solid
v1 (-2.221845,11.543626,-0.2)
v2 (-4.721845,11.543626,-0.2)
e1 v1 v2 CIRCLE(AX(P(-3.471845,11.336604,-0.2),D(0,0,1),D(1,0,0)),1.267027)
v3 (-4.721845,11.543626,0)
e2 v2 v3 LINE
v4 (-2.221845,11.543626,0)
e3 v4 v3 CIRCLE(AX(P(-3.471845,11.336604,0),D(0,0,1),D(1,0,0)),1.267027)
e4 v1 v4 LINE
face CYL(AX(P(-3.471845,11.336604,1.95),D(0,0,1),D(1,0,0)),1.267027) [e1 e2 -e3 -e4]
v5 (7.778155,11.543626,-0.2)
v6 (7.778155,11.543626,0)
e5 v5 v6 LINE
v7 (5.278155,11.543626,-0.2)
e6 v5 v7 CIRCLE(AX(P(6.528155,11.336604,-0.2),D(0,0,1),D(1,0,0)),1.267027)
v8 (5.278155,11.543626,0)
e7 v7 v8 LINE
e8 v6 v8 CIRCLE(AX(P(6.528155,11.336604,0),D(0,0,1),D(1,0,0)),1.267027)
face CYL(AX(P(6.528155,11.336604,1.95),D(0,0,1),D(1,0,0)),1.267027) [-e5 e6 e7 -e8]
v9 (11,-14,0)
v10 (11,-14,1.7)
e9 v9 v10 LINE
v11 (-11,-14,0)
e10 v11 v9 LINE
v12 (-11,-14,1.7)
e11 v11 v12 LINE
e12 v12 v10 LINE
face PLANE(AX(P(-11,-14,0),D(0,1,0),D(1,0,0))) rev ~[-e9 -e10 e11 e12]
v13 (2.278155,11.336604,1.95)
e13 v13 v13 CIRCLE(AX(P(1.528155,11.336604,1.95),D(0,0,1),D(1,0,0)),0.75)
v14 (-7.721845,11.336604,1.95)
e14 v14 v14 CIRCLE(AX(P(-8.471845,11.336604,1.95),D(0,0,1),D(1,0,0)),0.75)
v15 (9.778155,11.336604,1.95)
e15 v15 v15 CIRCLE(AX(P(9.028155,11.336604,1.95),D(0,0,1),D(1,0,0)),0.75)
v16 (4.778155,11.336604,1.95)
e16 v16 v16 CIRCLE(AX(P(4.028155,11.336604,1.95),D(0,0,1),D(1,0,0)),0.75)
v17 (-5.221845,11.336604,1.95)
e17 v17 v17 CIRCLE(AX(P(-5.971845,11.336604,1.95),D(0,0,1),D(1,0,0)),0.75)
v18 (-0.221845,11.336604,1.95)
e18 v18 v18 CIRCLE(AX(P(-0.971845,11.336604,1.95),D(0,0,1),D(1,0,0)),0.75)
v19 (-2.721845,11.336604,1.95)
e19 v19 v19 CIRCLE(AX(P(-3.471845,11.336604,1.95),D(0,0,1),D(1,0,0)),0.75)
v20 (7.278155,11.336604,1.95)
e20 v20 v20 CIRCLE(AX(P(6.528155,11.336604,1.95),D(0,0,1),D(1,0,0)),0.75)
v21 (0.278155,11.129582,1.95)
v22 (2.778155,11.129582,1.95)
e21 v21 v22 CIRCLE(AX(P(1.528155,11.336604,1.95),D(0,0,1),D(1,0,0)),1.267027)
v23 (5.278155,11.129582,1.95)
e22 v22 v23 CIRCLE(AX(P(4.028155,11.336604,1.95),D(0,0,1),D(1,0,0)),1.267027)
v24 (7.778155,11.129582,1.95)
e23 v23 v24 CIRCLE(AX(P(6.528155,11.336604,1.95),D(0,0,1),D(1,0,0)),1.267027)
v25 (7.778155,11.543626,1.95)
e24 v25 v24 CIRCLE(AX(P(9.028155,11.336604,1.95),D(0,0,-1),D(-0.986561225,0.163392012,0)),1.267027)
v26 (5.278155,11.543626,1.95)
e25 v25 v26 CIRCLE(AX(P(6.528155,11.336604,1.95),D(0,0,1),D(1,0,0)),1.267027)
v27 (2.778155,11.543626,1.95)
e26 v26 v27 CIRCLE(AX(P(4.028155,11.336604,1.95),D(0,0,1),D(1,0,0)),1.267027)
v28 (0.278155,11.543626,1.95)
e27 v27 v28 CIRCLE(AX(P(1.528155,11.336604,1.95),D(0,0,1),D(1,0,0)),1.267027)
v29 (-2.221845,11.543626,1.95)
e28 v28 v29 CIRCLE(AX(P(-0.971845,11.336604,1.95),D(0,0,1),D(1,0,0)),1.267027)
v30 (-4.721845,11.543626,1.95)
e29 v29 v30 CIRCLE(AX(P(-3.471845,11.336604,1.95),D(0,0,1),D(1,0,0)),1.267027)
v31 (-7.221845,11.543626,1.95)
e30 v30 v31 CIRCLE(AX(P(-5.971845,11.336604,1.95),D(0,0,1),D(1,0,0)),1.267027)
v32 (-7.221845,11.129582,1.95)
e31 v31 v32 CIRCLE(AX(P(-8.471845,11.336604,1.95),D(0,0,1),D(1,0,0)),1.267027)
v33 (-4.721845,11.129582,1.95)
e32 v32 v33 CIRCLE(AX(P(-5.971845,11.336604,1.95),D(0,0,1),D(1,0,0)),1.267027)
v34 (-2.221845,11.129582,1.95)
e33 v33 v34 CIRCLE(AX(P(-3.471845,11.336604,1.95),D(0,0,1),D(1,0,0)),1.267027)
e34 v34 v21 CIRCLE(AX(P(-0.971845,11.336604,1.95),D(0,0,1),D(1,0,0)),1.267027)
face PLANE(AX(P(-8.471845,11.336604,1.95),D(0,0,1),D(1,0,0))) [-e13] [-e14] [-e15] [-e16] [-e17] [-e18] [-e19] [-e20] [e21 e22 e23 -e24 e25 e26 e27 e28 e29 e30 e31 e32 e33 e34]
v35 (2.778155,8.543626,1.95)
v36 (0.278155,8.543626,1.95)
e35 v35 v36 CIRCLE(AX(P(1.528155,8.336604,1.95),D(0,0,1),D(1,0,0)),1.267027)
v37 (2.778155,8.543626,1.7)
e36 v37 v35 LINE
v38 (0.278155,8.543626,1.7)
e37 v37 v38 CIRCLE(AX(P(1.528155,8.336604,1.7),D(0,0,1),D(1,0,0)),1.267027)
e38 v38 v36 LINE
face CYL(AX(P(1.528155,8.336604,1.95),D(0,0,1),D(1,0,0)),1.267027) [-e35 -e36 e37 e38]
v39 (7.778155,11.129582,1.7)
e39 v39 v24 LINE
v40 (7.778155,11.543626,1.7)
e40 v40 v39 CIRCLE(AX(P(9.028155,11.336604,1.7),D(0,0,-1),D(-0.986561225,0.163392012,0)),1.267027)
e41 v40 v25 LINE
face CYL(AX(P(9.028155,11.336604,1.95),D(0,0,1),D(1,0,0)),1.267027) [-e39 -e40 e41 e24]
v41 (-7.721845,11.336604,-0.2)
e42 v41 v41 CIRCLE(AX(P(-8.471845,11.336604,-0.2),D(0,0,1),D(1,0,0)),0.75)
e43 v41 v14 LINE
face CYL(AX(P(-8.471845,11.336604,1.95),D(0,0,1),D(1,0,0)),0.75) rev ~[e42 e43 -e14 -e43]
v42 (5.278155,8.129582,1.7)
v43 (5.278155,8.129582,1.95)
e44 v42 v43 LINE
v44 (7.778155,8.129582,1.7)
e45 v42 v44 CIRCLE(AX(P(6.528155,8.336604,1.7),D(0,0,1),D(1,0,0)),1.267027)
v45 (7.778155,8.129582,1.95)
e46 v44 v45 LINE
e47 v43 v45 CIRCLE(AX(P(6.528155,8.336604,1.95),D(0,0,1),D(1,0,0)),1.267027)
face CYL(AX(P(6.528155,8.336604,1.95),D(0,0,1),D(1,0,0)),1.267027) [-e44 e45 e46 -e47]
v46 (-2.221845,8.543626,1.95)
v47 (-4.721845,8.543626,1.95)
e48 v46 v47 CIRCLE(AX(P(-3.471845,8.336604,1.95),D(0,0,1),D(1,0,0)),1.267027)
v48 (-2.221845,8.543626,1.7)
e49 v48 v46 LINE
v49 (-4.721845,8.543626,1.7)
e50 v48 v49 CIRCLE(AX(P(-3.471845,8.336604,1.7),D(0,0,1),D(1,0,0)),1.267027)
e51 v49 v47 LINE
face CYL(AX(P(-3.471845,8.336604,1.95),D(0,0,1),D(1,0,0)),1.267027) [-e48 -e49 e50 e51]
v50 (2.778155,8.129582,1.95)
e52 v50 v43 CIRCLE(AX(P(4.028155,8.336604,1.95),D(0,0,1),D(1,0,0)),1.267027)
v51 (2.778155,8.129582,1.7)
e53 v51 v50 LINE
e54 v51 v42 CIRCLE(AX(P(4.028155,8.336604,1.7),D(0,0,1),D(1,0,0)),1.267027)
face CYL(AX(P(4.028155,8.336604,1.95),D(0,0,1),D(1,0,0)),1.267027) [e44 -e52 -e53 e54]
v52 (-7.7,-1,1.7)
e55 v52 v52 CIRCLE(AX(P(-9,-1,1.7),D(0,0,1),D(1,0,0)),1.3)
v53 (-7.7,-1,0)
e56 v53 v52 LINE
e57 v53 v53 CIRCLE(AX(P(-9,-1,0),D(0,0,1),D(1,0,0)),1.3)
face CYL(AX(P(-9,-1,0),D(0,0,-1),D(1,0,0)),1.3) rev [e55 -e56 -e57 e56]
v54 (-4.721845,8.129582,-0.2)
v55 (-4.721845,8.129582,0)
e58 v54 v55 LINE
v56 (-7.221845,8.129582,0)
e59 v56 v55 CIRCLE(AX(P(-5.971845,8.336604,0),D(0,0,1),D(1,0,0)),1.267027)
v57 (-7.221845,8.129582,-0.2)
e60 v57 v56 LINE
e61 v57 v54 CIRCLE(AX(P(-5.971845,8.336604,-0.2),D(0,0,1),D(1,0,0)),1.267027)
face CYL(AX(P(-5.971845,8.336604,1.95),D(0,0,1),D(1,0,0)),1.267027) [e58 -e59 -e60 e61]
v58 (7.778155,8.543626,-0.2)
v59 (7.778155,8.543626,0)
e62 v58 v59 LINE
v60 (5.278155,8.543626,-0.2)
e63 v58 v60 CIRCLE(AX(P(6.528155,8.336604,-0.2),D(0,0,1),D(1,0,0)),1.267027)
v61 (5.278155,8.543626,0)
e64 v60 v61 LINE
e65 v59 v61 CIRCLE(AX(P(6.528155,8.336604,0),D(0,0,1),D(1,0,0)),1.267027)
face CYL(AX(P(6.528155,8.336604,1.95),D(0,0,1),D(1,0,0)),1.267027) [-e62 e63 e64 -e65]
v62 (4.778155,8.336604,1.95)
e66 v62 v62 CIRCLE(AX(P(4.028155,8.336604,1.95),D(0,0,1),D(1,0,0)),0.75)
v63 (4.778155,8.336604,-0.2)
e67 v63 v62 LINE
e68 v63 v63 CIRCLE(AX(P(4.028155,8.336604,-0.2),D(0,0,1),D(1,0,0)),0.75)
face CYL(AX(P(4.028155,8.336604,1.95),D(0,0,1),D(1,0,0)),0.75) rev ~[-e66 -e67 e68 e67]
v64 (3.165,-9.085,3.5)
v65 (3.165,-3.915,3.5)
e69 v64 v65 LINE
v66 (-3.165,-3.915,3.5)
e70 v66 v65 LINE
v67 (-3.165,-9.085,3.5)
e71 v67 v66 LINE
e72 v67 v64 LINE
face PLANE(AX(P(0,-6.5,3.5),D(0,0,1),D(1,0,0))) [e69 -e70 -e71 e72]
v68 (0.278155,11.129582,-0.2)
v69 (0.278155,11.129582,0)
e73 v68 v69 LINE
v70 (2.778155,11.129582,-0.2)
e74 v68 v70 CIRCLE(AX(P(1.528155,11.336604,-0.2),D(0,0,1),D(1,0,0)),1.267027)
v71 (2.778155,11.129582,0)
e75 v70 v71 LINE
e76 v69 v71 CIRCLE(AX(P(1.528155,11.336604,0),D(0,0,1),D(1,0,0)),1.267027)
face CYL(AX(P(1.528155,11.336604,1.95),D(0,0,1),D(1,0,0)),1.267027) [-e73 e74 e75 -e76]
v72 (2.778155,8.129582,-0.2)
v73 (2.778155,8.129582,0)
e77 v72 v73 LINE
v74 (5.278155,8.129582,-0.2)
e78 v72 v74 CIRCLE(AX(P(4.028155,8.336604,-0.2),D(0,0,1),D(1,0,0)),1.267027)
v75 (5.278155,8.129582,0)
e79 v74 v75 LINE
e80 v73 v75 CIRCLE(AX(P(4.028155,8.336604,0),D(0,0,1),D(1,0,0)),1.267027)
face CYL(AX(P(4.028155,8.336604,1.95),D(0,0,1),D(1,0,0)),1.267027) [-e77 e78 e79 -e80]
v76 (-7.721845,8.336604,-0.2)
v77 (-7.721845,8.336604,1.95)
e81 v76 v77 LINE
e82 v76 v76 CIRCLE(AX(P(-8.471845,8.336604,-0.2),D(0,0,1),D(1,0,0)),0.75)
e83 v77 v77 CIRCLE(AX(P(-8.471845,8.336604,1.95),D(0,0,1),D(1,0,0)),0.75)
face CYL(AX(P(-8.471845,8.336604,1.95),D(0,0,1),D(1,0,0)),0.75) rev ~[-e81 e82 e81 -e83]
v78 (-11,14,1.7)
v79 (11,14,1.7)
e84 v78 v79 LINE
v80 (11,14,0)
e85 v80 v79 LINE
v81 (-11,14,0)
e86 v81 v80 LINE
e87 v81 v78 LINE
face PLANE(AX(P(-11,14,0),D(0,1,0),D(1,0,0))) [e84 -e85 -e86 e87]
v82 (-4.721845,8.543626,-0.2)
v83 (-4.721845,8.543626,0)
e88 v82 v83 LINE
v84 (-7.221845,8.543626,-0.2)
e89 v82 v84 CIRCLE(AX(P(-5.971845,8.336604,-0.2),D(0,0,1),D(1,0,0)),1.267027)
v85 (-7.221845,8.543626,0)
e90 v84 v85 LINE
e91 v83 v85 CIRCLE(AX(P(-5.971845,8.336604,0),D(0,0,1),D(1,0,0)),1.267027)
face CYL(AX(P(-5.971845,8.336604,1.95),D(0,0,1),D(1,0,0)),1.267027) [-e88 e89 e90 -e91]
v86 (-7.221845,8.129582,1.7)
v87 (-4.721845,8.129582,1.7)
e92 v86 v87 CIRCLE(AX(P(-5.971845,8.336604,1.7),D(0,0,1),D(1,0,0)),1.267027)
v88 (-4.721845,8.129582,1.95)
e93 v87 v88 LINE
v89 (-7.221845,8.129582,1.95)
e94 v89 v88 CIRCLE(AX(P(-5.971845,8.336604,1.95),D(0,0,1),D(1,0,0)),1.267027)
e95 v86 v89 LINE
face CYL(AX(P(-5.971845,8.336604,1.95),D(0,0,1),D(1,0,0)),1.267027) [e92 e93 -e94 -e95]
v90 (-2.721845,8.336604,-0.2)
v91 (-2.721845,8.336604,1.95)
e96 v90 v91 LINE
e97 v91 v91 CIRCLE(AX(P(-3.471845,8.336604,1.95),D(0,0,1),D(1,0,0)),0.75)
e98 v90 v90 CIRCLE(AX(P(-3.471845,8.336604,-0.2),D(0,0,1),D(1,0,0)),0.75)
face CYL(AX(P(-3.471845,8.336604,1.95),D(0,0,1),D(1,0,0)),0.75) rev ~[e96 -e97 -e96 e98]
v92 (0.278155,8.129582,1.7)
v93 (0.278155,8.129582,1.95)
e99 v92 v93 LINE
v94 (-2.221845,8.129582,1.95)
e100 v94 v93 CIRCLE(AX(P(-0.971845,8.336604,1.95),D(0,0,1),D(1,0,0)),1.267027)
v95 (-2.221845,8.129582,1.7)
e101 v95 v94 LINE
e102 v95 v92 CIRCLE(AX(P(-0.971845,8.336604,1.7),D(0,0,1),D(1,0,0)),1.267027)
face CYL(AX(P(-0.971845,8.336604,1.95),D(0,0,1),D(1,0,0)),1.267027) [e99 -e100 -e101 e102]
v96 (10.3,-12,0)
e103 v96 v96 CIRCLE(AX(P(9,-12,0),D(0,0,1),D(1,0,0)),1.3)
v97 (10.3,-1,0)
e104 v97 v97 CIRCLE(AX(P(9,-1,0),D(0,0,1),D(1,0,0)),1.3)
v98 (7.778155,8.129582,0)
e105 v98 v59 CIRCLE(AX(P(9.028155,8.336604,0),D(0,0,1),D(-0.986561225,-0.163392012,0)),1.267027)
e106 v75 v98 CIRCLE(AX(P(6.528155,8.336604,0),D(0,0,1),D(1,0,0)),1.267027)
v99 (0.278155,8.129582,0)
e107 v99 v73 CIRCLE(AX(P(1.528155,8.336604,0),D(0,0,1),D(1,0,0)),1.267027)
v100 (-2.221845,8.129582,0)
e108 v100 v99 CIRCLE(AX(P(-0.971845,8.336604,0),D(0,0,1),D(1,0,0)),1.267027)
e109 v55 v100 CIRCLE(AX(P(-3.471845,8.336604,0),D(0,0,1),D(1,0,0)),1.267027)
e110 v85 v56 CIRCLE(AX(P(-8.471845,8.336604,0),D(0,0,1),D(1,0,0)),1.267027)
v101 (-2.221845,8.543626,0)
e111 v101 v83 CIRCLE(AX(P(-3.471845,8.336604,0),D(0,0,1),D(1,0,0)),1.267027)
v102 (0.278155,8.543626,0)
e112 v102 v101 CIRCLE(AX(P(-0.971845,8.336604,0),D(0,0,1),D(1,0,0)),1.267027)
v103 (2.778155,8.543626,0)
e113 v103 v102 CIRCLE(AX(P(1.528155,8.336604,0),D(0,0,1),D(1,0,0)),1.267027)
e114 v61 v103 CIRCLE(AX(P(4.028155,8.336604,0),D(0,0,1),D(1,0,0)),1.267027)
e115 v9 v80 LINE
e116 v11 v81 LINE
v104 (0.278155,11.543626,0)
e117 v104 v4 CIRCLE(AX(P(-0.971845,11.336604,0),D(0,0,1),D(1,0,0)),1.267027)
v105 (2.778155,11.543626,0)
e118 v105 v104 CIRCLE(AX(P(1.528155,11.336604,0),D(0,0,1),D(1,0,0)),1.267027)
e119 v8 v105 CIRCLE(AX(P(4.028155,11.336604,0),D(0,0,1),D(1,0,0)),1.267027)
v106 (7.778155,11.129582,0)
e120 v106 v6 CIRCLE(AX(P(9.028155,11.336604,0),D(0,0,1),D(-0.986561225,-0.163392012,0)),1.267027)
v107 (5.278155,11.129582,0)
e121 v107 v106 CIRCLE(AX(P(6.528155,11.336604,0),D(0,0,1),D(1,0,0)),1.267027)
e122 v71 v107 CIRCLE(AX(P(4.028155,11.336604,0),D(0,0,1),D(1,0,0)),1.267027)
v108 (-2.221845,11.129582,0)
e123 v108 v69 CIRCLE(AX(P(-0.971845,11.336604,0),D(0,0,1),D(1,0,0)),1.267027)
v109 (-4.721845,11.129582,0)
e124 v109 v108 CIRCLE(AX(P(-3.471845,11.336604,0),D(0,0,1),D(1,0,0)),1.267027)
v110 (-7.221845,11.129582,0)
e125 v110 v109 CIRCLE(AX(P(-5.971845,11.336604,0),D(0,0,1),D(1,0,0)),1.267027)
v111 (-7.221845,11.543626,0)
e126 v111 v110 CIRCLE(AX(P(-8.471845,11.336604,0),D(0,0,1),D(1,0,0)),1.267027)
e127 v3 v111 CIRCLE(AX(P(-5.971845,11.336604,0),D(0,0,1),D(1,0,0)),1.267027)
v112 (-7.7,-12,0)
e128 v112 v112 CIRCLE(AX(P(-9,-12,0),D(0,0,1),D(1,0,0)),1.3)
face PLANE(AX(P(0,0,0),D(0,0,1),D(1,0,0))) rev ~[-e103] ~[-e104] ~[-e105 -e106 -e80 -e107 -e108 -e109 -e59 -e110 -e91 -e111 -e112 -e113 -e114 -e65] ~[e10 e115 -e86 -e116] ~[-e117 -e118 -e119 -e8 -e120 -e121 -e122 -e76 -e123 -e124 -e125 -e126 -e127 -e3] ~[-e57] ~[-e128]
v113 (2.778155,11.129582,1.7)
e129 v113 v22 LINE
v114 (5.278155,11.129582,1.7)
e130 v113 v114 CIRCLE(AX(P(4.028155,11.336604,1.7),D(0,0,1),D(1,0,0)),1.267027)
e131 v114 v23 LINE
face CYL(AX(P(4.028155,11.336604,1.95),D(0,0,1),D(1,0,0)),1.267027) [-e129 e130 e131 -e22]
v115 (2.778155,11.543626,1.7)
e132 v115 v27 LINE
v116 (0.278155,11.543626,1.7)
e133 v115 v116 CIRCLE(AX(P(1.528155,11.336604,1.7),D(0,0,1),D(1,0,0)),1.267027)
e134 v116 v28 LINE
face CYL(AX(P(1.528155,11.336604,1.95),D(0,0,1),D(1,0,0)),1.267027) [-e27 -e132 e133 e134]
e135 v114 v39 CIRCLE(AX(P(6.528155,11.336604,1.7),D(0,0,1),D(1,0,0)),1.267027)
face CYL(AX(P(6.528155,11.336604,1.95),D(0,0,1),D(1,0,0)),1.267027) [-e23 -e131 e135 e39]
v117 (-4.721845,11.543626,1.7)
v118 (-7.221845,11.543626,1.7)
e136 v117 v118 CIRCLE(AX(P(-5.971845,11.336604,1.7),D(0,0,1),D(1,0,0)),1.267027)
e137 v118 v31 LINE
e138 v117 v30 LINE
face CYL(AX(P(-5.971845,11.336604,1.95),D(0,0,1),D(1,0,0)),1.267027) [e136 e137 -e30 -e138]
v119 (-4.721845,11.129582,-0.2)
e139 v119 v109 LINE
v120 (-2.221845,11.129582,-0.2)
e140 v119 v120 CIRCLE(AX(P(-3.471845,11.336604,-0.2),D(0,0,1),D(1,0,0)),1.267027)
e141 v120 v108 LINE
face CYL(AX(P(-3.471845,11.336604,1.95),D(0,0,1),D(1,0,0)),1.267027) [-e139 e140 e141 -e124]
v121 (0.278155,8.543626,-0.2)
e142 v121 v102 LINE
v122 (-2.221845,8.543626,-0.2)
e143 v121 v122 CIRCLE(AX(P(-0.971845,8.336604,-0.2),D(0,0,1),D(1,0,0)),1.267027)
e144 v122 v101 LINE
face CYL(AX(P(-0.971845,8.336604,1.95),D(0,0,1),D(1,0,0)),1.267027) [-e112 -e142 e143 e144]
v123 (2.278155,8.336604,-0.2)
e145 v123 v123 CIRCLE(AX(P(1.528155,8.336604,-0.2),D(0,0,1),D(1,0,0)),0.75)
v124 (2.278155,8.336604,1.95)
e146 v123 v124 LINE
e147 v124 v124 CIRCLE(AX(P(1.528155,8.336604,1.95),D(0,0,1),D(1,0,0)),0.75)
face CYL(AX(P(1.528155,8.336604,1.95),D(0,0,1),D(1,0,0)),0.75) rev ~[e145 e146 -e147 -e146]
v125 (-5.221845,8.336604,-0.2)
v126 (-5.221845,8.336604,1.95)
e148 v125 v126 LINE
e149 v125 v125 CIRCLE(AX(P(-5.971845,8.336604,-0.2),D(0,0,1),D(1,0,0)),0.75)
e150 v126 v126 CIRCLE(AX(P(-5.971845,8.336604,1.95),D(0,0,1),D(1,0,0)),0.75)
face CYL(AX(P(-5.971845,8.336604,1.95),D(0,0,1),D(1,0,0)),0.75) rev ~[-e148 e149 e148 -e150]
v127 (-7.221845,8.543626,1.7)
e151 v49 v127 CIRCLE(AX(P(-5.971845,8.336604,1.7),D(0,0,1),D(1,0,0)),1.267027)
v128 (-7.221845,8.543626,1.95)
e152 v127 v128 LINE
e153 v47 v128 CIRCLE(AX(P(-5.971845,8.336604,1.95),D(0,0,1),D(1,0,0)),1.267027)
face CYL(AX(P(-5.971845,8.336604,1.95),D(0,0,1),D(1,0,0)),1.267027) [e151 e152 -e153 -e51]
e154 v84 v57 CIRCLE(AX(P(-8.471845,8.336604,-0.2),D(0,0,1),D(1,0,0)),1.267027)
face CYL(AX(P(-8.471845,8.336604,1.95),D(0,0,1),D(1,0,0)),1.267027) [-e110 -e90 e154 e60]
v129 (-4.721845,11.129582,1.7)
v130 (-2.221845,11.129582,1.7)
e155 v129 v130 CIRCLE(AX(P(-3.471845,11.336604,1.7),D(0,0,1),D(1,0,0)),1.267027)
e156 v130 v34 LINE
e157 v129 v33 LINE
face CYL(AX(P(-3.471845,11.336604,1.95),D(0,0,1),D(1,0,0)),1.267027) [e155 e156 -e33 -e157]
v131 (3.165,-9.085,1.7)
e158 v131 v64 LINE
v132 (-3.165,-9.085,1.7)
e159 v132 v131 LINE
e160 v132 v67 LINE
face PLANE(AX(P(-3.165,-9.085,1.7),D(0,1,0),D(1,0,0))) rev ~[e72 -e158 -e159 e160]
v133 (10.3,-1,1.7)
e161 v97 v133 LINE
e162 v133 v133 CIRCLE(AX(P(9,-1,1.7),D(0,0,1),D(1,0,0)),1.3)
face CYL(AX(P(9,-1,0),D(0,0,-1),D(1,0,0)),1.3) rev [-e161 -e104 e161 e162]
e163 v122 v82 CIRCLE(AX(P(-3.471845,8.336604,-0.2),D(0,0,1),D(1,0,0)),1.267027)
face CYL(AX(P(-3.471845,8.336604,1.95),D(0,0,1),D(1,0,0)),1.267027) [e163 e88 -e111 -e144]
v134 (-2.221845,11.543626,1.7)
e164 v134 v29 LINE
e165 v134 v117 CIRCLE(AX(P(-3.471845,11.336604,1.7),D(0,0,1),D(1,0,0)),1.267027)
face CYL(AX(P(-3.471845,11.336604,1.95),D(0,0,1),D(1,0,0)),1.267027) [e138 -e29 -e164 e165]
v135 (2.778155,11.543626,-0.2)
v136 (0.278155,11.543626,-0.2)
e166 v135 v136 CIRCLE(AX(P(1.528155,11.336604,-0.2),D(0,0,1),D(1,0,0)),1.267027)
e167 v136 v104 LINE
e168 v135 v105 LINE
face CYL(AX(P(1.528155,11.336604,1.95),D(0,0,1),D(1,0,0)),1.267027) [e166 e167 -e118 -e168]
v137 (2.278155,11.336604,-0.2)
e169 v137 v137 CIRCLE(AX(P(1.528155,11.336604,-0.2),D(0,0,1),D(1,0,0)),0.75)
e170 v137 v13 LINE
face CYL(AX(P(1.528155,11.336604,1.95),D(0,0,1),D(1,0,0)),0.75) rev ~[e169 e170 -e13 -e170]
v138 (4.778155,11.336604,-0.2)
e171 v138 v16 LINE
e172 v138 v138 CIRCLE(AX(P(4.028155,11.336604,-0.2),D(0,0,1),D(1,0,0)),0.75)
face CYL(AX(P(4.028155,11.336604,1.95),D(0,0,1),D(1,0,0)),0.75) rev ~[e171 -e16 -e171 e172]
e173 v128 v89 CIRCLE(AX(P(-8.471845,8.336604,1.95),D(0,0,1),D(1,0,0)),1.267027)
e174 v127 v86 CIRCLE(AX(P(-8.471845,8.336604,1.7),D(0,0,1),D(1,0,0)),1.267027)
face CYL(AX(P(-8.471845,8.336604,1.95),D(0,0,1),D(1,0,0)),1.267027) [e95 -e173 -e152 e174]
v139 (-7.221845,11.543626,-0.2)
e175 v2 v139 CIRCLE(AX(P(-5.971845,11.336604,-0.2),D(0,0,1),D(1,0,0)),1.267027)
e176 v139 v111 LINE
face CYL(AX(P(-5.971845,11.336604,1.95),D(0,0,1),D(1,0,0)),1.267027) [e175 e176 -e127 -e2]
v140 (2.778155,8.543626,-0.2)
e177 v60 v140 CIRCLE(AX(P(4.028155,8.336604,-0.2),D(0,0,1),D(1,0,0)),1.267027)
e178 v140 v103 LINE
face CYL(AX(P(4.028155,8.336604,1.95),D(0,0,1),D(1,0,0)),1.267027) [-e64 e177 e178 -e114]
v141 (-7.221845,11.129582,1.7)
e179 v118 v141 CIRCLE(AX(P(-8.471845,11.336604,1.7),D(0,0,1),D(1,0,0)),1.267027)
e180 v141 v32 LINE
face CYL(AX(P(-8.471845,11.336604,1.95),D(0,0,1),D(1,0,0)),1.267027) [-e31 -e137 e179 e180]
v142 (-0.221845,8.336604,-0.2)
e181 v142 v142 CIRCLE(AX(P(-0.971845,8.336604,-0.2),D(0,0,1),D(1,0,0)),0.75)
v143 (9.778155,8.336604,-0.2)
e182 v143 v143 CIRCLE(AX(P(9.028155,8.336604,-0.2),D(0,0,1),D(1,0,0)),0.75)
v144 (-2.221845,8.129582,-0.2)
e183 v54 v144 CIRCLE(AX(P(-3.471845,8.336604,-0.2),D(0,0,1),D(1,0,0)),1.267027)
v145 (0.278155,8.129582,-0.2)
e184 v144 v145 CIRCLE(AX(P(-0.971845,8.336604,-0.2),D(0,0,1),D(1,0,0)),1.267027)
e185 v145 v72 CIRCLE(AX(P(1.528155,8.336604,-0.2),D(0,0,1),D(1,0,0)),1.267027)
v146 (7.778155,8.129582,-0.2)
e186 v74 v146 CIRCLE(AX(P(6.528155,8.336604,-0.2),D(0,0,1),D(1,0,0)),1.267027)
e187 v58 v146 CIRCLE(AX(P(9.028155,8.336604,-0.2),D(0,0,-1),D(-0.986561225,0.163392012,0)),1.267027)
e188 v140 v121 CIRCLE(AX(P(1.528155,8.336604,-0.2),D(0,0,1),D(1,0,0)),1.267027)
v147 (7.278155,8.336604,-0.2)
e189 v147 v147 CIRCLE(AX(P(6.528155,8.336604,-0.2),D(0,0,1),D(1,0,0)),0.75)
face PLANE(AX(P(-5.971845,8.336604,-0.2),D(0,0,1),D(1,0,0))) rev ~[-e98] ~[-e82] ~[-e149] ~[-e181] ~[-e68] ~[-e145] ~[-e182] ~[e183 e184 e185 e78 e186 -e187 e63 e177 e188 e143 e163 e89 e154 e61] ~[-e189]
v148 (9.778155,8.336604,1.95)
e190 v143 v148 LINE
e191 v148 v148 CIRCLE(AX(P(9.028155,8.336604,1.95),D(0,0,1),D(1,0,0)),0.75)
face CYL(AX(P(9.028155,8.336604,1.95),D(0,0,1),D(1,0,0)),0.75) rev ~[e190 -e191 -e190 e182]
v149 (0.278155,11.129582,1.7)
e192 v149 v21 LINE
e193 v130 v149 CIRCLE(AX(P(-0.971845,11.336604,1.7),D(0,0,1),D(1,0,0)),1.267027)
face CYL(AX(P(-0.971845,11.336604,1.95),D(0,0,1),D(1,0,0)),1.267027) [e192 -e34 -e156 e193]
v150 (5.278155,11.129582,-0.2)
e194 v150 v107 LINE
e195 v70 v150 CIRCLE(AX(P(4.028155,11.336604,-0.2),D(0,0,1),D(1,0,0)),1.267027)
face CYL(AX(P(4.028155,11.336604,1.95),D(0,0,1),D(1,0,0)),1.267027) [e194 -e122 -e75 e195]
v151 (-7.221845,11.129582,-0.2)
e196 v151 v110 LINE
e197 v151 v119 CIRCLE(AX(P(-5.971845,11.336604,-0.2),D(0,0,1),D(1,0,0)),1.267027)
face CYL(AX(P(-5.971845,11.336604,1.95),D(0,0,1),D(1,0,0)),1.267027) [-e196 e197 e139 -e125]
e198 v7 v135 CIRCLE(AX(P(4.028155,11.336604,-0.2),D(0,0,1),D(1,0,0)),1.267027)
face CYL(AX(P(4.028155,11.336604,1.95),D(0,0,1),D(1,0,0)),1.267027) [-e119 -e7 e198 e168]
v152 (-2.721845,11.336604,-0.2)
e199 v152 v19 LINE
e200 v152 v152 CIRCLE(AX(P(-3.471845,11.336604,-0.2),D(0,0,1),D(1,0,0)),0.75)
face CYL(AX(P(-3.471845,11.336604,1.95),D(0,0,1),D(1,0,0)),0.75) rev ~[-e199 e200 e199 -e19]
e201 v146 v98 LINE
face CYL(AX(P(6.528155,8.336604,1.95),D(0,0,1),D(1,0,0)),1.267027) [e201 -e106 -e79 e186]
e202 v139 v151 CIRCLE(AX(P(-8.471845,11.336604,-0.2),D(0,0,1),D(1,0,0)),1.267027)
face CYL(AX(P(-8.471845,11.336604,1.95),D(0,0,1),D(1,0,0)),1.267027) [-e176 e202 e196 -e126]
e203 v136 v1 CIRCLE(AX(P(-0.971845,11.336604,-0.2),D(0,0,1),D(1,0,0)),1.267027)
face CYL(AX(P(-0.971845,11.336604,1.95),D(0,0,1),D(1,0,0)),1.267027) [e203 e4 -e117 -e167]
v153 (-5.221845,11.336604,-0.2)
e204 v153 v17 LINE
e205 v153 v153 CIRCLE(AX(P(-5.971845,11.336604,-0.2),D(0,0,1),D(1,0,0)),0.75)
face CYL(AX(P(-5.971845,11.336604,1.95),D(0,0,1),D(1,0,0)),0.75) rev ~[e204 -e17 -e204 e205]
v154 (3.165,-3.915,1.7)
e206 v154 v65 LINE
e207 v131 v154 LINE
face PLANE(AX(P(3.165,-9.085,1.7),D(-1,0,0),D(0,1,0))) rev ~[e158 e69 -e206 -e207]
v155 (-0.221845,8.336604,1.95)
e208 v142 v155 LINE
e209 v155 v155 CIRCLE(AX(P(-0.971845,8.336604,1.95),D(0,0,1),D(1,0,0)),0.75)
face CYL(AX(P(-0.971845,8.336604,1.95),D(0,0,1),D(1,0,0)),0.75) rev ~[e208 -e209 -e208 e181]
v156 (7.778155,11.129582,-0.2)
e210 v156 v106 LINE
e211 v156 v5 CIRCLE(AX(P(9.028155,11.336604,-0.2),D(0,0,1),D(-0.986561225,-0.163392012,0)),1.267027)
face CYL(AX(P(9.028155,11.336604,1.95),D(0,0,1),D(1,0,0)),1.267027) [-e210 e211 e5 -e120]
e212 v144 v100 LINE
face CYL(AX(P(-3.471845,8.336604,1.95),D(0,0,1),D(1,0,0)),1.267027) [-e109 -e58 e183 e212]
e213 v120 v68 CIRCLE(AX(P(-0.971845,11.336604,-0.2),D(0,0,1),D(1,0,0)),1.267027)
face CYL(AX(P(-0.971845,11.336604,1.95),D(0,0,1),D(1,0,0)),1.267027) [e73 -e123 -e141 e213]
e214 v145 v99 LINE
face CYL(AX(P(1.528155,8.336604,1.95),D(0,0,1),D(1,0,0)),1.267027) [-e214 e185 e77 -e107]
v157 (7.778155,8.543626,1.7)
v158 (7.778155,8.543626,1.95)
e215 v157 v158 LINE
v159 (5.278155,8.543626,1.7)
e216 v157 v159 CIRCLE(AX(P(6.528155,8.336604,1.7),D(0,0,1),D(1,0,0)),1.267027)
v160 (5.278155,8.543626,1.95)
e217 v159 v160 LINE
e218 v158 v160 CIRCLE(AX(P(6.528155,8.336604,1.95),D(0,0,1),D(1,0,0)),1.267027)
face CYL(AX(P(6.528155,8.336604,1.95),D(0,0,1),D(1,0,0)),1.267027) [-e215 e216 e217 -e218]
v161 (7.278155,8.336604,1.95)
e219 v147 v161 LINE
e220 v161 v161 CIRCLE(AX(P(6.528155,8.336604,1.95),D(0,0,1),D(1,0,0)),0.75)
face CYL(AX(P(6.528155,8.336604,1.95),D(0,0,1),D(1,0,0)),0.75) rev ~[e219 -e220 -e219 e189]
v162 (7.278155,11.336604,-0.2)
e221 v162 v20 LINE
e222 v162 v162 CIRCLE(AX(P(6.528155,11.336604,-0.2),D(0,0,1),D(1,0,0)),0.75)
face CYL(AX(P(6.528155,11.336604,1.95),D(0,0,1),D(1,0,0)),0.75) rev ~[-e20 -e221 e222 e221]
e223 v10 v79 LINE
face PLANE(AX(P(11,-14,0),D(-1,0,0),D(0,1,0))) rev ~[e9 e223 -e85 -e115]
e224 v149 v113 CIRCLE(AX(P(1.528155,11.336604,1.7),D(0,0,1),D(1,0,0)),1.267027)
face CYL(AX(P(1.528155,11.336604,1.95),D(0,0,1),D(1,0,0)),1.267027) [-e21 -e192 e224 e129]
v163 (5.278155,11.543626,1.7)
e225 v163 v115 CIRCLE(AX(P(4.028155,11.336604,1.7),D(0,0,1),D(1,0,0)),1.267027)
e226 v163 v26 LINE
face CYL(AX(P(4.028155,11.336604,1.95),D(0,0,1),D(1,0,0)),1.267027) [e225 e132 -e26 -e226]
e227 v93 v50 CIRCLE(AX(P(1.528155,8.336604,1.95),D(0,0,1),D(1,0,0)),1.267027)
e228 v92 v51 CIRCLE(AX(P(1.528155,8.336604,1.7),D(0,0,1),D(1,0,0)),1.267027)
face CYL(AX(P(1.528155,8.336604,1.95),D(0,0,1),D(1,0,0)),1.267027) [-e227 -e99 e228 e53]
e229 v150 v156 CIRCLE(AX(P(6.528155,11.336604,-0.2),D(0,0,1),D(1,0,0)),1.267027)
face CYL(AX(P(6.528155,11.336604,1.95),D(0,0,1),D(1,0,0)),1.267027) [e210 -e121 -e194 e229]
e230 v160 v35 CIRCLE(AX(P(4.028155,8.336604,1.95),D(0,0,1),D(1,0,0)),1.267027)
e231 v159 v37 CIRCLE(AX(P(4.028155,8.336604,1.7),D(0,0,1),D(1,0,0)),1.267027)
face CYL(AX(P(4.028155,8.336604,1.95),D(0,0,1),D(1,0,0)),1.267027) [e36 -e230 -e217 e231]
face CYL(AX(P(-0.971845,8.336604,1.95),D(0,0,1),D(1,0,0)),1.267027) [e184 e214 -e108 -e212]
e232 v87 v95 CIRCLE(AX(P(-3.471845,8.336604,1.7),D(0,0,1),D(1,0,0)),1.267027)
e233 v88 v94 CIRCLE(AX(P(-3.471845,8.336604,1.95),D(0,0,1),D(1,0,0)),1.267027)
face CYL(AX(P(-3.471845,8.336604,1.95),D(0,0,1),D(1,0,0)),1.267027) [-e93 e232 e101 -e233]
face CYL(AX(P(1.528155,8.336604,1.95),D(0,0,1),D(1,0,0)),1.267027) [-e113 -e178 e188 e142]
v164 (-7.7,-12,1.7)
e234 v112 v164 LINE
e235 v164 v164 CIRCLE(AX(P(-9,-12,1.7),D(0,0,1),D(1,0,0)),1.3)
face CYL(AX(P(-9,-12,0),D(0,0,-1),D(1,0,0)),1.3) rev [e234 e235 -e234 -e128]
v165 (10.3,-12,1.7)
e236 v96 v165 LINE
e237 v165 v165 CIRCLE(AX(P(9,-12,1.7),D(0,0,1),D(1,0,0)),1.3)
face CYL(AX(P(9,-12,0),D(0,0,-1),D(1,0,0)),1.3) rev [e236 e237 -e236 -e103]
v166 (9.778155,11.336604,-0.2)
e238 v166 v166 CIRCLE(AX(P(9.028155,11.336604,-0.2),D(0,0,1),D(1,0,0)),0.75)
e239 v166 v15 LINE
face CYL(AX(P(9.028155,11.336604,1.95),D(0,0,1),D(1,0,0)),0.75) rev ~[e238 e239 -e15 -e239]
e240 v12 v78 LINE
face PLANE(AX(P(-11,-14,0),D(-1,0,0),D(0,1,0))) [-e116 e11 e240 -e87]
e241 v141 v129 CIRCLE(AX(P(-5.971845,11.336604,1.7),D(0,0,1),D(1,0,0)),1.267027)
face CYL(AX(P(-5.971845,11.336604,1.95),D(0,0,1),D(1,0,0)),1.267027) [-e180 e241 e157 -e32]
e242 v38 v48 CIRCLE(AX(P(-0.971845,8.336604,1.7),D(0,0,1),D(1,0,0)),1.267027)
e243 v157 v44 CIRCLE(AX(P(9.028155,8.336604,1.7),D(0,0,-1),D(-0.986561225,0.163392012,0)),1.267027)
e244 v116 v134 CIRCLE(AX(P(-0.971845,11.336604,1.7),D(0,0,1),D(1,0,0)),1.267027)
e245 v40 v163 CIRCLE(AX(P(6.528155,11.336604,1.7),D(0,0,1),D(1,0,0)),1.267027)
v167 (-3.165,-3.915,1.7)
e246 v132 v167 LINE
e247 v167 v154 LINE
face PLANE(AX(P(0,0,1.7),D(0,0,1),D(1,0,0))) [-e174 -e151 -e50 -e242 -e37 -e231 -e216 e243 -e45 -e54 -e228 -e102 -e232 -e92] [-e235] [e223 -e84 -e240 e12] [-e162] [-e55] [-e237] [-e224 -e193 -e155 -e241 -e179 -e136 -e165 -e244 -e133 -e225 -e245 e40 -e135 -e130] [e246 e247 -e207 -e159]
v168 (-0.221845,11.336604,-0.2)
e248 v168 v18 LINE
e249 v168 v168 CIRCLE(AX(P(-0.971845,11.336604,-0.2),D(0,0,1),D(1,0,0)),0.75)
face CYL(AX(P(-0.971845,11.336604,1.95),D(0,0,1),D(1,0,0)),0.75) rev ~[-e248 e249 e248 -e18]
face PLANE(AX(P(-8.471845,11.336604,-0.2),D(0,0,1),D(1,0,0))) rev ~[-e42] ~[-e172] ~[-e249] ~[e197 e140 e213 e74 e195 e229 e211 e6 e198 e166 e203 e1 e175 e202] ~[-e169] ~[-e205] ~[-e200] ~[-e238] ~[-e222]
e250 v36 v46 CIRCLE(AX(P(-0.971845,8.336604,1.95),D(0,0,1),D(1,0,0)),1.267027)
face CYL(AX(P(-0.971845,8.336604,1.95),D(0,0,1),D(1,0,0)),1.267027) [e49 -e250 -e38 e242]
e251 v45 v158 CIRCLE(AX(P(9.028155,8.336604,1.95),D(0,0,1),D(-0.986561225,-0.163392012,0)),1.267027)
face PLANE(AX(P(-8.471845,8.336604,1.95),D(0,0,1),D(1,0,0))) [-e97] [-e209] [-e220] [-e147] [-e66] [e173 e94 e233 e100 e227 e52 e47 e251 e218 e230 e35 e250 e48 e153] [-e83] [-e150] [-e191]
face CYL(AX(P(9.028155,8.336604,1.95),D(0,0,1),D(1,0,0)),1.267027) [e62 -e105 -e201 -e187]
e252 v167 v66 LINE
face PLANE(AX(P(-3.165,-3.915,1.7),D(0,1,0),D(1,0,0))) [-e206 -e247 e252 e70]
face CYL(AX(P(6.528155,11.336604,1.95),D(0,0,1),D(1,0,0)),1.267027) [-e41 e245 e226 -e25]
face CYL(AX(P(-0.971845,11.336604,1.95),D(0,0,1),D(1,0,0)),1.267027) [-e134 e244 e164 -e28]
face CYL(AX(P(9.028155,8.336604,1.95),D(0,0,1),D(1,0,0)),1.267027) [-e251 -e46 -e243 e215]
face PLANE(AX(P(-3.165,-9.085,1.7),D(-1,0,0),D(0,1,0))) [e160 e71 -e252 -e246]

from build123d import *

# Parameters (mm, degrees)
ESQUISSE1_W                     = 22
ESQUISSE1_H                     = 28
ESQUISSE1_R                     = 1.3
BOSS_EXTRU_1_DEPTH              = 1.7
ESQUISSE2_W                     = 6.33
ESQUISSE2_H                     = 5.17
BOSS_EXTRU_2_DEPTH              = 1.8
ESQUISSE3_R                     = 0.75
ENL_V_MAT_EXTRU_1_DEPTH         = 18.895250767
R_P_TITION_LIN_AIRE1_COUNT      = 8
R_P_TITION_LIN_AIRE1_PITCH      = 2.5
R_P_TITION_LIN_AIRE1_COUNT_DIR2 = 2
R_P_TITION_LIN_AIRE1_PITCH_DIR2 = 3
BOSS_EXTRU_3_START              = 0.25
ESQUISSE4_R                     = 1.267027295
ESQUISSE4_R_2                   = 0.75
BOSS_EXTRU_3_DEPTH              = 2.15
R_P_TITION_LIN_AIRE2_COUNT      = 8
R_P_TITION_LIN_AIRE2_PITCH      = 2.5
R_P_TITION_LIN_AIRE2_COUNT_DIR2 = 2
R_P_TITION_LIN_AIRE2_PITCH_DIR2 = 3


with BuildPart() as part:
    # Esquisse1 → Boss.-Extru.1 (new body)
    with BuildSketch(Plane.XY):
        Rectangle(ESQUISSE1_W, ESQUISSE1_H)
        with Locations((-9, -1)):
            Circle(ESQUISSE1_R, mode=Mode.SUBTRACT)
        with Locations((9, -1)):
            Circle(ESQUISSE1_R, mode=Mode.SUBTRACT)
        with Locations((9, -12)):
            Circle(ESQUISSE1_R, mode=Mode.SUBTRACT)
        with Locations((-9, -12)):
            Circle(ESQUISSE1_R, mode=Mode.SUBTRACT)
    extrude(amount=BOSS_EXTRU_1_DEPTH)

    # Esquisse2 → Boss.-Extru.2 (add)
    with BuildSketch(Plane.XY.offset(1.7)):
        with Locations((0, -6.5)):
            Rectangle(ESQUISSE2_W, ESQUISSE2_H)
    extrude(amount=BOSS_EXTRU_2_DEPTH)

    # Esquisse3 → Enlèv. mat.-Extru.1 (cut, through all)
    with BuildSketch(Plane.XY.offset(1.7)):
        with Locations((-8.47184488, 11.336604358)):
            Circle(ESQUISSE3_R)
    enl_v_mat_extru_1 = extrude(amount=-ENL_V_MAT_EXTRU_1_DEPTH, mode=Mode.SUBTRACT)

    # Répétition linéaire1: Enl_v. mat.-Extru.1 8 × 2
    with Locations(*[(i * R_P_TITION_LIN_AIRE1_PITCH, -j * R_P_TITION_LIN_AIRE1_PITCH_DIR2, 0) for i in range(R_P_TITION_LIN_AIRE1_COUNT) for j in range(R_P_TITION_LIN_AIRE1_COUNT_DIR2) if (i, j) != (0, 0)]):
        add(enl_v_mat_extru_1, mode=Mode.SUBTRACT)

    # Esquisse4 → Boss.-Extru.3 (add)
    with BuildSketch(Plane.XY.offset(1.7).offset(BOSS_EXTRU_3_START)):
        with Locations((-8.47184488, 11.336604358)):
            Circle(ESQUISSE4_R)
        with Locations((-8.47184488, 11.336604358)):
            Circle(ESQUISSE4_R_2, mode=Mode.SUBTRACT)
    boss_extru_3 = extrude(amount=-BOSS_EXTRU_3_DEPTH)

    # Répétition linéaire2: Boss.-Extru.3 8 × 2
    with Locations(*[(i * R_P_TITION_LIN_AIRE2_PITCH, -j * R_P_TITION_LIN_AIRE2_PITCH_DIR2, 0) for i in range(R_P_TITION_LIN_AIRE2_COUNT) for j in range(R_P_TITION_LIN_AIRE2_COUNT_DIR2) if (i, j) != (0, 0)]):
        add(boss_extru_3)


solid = part.part
